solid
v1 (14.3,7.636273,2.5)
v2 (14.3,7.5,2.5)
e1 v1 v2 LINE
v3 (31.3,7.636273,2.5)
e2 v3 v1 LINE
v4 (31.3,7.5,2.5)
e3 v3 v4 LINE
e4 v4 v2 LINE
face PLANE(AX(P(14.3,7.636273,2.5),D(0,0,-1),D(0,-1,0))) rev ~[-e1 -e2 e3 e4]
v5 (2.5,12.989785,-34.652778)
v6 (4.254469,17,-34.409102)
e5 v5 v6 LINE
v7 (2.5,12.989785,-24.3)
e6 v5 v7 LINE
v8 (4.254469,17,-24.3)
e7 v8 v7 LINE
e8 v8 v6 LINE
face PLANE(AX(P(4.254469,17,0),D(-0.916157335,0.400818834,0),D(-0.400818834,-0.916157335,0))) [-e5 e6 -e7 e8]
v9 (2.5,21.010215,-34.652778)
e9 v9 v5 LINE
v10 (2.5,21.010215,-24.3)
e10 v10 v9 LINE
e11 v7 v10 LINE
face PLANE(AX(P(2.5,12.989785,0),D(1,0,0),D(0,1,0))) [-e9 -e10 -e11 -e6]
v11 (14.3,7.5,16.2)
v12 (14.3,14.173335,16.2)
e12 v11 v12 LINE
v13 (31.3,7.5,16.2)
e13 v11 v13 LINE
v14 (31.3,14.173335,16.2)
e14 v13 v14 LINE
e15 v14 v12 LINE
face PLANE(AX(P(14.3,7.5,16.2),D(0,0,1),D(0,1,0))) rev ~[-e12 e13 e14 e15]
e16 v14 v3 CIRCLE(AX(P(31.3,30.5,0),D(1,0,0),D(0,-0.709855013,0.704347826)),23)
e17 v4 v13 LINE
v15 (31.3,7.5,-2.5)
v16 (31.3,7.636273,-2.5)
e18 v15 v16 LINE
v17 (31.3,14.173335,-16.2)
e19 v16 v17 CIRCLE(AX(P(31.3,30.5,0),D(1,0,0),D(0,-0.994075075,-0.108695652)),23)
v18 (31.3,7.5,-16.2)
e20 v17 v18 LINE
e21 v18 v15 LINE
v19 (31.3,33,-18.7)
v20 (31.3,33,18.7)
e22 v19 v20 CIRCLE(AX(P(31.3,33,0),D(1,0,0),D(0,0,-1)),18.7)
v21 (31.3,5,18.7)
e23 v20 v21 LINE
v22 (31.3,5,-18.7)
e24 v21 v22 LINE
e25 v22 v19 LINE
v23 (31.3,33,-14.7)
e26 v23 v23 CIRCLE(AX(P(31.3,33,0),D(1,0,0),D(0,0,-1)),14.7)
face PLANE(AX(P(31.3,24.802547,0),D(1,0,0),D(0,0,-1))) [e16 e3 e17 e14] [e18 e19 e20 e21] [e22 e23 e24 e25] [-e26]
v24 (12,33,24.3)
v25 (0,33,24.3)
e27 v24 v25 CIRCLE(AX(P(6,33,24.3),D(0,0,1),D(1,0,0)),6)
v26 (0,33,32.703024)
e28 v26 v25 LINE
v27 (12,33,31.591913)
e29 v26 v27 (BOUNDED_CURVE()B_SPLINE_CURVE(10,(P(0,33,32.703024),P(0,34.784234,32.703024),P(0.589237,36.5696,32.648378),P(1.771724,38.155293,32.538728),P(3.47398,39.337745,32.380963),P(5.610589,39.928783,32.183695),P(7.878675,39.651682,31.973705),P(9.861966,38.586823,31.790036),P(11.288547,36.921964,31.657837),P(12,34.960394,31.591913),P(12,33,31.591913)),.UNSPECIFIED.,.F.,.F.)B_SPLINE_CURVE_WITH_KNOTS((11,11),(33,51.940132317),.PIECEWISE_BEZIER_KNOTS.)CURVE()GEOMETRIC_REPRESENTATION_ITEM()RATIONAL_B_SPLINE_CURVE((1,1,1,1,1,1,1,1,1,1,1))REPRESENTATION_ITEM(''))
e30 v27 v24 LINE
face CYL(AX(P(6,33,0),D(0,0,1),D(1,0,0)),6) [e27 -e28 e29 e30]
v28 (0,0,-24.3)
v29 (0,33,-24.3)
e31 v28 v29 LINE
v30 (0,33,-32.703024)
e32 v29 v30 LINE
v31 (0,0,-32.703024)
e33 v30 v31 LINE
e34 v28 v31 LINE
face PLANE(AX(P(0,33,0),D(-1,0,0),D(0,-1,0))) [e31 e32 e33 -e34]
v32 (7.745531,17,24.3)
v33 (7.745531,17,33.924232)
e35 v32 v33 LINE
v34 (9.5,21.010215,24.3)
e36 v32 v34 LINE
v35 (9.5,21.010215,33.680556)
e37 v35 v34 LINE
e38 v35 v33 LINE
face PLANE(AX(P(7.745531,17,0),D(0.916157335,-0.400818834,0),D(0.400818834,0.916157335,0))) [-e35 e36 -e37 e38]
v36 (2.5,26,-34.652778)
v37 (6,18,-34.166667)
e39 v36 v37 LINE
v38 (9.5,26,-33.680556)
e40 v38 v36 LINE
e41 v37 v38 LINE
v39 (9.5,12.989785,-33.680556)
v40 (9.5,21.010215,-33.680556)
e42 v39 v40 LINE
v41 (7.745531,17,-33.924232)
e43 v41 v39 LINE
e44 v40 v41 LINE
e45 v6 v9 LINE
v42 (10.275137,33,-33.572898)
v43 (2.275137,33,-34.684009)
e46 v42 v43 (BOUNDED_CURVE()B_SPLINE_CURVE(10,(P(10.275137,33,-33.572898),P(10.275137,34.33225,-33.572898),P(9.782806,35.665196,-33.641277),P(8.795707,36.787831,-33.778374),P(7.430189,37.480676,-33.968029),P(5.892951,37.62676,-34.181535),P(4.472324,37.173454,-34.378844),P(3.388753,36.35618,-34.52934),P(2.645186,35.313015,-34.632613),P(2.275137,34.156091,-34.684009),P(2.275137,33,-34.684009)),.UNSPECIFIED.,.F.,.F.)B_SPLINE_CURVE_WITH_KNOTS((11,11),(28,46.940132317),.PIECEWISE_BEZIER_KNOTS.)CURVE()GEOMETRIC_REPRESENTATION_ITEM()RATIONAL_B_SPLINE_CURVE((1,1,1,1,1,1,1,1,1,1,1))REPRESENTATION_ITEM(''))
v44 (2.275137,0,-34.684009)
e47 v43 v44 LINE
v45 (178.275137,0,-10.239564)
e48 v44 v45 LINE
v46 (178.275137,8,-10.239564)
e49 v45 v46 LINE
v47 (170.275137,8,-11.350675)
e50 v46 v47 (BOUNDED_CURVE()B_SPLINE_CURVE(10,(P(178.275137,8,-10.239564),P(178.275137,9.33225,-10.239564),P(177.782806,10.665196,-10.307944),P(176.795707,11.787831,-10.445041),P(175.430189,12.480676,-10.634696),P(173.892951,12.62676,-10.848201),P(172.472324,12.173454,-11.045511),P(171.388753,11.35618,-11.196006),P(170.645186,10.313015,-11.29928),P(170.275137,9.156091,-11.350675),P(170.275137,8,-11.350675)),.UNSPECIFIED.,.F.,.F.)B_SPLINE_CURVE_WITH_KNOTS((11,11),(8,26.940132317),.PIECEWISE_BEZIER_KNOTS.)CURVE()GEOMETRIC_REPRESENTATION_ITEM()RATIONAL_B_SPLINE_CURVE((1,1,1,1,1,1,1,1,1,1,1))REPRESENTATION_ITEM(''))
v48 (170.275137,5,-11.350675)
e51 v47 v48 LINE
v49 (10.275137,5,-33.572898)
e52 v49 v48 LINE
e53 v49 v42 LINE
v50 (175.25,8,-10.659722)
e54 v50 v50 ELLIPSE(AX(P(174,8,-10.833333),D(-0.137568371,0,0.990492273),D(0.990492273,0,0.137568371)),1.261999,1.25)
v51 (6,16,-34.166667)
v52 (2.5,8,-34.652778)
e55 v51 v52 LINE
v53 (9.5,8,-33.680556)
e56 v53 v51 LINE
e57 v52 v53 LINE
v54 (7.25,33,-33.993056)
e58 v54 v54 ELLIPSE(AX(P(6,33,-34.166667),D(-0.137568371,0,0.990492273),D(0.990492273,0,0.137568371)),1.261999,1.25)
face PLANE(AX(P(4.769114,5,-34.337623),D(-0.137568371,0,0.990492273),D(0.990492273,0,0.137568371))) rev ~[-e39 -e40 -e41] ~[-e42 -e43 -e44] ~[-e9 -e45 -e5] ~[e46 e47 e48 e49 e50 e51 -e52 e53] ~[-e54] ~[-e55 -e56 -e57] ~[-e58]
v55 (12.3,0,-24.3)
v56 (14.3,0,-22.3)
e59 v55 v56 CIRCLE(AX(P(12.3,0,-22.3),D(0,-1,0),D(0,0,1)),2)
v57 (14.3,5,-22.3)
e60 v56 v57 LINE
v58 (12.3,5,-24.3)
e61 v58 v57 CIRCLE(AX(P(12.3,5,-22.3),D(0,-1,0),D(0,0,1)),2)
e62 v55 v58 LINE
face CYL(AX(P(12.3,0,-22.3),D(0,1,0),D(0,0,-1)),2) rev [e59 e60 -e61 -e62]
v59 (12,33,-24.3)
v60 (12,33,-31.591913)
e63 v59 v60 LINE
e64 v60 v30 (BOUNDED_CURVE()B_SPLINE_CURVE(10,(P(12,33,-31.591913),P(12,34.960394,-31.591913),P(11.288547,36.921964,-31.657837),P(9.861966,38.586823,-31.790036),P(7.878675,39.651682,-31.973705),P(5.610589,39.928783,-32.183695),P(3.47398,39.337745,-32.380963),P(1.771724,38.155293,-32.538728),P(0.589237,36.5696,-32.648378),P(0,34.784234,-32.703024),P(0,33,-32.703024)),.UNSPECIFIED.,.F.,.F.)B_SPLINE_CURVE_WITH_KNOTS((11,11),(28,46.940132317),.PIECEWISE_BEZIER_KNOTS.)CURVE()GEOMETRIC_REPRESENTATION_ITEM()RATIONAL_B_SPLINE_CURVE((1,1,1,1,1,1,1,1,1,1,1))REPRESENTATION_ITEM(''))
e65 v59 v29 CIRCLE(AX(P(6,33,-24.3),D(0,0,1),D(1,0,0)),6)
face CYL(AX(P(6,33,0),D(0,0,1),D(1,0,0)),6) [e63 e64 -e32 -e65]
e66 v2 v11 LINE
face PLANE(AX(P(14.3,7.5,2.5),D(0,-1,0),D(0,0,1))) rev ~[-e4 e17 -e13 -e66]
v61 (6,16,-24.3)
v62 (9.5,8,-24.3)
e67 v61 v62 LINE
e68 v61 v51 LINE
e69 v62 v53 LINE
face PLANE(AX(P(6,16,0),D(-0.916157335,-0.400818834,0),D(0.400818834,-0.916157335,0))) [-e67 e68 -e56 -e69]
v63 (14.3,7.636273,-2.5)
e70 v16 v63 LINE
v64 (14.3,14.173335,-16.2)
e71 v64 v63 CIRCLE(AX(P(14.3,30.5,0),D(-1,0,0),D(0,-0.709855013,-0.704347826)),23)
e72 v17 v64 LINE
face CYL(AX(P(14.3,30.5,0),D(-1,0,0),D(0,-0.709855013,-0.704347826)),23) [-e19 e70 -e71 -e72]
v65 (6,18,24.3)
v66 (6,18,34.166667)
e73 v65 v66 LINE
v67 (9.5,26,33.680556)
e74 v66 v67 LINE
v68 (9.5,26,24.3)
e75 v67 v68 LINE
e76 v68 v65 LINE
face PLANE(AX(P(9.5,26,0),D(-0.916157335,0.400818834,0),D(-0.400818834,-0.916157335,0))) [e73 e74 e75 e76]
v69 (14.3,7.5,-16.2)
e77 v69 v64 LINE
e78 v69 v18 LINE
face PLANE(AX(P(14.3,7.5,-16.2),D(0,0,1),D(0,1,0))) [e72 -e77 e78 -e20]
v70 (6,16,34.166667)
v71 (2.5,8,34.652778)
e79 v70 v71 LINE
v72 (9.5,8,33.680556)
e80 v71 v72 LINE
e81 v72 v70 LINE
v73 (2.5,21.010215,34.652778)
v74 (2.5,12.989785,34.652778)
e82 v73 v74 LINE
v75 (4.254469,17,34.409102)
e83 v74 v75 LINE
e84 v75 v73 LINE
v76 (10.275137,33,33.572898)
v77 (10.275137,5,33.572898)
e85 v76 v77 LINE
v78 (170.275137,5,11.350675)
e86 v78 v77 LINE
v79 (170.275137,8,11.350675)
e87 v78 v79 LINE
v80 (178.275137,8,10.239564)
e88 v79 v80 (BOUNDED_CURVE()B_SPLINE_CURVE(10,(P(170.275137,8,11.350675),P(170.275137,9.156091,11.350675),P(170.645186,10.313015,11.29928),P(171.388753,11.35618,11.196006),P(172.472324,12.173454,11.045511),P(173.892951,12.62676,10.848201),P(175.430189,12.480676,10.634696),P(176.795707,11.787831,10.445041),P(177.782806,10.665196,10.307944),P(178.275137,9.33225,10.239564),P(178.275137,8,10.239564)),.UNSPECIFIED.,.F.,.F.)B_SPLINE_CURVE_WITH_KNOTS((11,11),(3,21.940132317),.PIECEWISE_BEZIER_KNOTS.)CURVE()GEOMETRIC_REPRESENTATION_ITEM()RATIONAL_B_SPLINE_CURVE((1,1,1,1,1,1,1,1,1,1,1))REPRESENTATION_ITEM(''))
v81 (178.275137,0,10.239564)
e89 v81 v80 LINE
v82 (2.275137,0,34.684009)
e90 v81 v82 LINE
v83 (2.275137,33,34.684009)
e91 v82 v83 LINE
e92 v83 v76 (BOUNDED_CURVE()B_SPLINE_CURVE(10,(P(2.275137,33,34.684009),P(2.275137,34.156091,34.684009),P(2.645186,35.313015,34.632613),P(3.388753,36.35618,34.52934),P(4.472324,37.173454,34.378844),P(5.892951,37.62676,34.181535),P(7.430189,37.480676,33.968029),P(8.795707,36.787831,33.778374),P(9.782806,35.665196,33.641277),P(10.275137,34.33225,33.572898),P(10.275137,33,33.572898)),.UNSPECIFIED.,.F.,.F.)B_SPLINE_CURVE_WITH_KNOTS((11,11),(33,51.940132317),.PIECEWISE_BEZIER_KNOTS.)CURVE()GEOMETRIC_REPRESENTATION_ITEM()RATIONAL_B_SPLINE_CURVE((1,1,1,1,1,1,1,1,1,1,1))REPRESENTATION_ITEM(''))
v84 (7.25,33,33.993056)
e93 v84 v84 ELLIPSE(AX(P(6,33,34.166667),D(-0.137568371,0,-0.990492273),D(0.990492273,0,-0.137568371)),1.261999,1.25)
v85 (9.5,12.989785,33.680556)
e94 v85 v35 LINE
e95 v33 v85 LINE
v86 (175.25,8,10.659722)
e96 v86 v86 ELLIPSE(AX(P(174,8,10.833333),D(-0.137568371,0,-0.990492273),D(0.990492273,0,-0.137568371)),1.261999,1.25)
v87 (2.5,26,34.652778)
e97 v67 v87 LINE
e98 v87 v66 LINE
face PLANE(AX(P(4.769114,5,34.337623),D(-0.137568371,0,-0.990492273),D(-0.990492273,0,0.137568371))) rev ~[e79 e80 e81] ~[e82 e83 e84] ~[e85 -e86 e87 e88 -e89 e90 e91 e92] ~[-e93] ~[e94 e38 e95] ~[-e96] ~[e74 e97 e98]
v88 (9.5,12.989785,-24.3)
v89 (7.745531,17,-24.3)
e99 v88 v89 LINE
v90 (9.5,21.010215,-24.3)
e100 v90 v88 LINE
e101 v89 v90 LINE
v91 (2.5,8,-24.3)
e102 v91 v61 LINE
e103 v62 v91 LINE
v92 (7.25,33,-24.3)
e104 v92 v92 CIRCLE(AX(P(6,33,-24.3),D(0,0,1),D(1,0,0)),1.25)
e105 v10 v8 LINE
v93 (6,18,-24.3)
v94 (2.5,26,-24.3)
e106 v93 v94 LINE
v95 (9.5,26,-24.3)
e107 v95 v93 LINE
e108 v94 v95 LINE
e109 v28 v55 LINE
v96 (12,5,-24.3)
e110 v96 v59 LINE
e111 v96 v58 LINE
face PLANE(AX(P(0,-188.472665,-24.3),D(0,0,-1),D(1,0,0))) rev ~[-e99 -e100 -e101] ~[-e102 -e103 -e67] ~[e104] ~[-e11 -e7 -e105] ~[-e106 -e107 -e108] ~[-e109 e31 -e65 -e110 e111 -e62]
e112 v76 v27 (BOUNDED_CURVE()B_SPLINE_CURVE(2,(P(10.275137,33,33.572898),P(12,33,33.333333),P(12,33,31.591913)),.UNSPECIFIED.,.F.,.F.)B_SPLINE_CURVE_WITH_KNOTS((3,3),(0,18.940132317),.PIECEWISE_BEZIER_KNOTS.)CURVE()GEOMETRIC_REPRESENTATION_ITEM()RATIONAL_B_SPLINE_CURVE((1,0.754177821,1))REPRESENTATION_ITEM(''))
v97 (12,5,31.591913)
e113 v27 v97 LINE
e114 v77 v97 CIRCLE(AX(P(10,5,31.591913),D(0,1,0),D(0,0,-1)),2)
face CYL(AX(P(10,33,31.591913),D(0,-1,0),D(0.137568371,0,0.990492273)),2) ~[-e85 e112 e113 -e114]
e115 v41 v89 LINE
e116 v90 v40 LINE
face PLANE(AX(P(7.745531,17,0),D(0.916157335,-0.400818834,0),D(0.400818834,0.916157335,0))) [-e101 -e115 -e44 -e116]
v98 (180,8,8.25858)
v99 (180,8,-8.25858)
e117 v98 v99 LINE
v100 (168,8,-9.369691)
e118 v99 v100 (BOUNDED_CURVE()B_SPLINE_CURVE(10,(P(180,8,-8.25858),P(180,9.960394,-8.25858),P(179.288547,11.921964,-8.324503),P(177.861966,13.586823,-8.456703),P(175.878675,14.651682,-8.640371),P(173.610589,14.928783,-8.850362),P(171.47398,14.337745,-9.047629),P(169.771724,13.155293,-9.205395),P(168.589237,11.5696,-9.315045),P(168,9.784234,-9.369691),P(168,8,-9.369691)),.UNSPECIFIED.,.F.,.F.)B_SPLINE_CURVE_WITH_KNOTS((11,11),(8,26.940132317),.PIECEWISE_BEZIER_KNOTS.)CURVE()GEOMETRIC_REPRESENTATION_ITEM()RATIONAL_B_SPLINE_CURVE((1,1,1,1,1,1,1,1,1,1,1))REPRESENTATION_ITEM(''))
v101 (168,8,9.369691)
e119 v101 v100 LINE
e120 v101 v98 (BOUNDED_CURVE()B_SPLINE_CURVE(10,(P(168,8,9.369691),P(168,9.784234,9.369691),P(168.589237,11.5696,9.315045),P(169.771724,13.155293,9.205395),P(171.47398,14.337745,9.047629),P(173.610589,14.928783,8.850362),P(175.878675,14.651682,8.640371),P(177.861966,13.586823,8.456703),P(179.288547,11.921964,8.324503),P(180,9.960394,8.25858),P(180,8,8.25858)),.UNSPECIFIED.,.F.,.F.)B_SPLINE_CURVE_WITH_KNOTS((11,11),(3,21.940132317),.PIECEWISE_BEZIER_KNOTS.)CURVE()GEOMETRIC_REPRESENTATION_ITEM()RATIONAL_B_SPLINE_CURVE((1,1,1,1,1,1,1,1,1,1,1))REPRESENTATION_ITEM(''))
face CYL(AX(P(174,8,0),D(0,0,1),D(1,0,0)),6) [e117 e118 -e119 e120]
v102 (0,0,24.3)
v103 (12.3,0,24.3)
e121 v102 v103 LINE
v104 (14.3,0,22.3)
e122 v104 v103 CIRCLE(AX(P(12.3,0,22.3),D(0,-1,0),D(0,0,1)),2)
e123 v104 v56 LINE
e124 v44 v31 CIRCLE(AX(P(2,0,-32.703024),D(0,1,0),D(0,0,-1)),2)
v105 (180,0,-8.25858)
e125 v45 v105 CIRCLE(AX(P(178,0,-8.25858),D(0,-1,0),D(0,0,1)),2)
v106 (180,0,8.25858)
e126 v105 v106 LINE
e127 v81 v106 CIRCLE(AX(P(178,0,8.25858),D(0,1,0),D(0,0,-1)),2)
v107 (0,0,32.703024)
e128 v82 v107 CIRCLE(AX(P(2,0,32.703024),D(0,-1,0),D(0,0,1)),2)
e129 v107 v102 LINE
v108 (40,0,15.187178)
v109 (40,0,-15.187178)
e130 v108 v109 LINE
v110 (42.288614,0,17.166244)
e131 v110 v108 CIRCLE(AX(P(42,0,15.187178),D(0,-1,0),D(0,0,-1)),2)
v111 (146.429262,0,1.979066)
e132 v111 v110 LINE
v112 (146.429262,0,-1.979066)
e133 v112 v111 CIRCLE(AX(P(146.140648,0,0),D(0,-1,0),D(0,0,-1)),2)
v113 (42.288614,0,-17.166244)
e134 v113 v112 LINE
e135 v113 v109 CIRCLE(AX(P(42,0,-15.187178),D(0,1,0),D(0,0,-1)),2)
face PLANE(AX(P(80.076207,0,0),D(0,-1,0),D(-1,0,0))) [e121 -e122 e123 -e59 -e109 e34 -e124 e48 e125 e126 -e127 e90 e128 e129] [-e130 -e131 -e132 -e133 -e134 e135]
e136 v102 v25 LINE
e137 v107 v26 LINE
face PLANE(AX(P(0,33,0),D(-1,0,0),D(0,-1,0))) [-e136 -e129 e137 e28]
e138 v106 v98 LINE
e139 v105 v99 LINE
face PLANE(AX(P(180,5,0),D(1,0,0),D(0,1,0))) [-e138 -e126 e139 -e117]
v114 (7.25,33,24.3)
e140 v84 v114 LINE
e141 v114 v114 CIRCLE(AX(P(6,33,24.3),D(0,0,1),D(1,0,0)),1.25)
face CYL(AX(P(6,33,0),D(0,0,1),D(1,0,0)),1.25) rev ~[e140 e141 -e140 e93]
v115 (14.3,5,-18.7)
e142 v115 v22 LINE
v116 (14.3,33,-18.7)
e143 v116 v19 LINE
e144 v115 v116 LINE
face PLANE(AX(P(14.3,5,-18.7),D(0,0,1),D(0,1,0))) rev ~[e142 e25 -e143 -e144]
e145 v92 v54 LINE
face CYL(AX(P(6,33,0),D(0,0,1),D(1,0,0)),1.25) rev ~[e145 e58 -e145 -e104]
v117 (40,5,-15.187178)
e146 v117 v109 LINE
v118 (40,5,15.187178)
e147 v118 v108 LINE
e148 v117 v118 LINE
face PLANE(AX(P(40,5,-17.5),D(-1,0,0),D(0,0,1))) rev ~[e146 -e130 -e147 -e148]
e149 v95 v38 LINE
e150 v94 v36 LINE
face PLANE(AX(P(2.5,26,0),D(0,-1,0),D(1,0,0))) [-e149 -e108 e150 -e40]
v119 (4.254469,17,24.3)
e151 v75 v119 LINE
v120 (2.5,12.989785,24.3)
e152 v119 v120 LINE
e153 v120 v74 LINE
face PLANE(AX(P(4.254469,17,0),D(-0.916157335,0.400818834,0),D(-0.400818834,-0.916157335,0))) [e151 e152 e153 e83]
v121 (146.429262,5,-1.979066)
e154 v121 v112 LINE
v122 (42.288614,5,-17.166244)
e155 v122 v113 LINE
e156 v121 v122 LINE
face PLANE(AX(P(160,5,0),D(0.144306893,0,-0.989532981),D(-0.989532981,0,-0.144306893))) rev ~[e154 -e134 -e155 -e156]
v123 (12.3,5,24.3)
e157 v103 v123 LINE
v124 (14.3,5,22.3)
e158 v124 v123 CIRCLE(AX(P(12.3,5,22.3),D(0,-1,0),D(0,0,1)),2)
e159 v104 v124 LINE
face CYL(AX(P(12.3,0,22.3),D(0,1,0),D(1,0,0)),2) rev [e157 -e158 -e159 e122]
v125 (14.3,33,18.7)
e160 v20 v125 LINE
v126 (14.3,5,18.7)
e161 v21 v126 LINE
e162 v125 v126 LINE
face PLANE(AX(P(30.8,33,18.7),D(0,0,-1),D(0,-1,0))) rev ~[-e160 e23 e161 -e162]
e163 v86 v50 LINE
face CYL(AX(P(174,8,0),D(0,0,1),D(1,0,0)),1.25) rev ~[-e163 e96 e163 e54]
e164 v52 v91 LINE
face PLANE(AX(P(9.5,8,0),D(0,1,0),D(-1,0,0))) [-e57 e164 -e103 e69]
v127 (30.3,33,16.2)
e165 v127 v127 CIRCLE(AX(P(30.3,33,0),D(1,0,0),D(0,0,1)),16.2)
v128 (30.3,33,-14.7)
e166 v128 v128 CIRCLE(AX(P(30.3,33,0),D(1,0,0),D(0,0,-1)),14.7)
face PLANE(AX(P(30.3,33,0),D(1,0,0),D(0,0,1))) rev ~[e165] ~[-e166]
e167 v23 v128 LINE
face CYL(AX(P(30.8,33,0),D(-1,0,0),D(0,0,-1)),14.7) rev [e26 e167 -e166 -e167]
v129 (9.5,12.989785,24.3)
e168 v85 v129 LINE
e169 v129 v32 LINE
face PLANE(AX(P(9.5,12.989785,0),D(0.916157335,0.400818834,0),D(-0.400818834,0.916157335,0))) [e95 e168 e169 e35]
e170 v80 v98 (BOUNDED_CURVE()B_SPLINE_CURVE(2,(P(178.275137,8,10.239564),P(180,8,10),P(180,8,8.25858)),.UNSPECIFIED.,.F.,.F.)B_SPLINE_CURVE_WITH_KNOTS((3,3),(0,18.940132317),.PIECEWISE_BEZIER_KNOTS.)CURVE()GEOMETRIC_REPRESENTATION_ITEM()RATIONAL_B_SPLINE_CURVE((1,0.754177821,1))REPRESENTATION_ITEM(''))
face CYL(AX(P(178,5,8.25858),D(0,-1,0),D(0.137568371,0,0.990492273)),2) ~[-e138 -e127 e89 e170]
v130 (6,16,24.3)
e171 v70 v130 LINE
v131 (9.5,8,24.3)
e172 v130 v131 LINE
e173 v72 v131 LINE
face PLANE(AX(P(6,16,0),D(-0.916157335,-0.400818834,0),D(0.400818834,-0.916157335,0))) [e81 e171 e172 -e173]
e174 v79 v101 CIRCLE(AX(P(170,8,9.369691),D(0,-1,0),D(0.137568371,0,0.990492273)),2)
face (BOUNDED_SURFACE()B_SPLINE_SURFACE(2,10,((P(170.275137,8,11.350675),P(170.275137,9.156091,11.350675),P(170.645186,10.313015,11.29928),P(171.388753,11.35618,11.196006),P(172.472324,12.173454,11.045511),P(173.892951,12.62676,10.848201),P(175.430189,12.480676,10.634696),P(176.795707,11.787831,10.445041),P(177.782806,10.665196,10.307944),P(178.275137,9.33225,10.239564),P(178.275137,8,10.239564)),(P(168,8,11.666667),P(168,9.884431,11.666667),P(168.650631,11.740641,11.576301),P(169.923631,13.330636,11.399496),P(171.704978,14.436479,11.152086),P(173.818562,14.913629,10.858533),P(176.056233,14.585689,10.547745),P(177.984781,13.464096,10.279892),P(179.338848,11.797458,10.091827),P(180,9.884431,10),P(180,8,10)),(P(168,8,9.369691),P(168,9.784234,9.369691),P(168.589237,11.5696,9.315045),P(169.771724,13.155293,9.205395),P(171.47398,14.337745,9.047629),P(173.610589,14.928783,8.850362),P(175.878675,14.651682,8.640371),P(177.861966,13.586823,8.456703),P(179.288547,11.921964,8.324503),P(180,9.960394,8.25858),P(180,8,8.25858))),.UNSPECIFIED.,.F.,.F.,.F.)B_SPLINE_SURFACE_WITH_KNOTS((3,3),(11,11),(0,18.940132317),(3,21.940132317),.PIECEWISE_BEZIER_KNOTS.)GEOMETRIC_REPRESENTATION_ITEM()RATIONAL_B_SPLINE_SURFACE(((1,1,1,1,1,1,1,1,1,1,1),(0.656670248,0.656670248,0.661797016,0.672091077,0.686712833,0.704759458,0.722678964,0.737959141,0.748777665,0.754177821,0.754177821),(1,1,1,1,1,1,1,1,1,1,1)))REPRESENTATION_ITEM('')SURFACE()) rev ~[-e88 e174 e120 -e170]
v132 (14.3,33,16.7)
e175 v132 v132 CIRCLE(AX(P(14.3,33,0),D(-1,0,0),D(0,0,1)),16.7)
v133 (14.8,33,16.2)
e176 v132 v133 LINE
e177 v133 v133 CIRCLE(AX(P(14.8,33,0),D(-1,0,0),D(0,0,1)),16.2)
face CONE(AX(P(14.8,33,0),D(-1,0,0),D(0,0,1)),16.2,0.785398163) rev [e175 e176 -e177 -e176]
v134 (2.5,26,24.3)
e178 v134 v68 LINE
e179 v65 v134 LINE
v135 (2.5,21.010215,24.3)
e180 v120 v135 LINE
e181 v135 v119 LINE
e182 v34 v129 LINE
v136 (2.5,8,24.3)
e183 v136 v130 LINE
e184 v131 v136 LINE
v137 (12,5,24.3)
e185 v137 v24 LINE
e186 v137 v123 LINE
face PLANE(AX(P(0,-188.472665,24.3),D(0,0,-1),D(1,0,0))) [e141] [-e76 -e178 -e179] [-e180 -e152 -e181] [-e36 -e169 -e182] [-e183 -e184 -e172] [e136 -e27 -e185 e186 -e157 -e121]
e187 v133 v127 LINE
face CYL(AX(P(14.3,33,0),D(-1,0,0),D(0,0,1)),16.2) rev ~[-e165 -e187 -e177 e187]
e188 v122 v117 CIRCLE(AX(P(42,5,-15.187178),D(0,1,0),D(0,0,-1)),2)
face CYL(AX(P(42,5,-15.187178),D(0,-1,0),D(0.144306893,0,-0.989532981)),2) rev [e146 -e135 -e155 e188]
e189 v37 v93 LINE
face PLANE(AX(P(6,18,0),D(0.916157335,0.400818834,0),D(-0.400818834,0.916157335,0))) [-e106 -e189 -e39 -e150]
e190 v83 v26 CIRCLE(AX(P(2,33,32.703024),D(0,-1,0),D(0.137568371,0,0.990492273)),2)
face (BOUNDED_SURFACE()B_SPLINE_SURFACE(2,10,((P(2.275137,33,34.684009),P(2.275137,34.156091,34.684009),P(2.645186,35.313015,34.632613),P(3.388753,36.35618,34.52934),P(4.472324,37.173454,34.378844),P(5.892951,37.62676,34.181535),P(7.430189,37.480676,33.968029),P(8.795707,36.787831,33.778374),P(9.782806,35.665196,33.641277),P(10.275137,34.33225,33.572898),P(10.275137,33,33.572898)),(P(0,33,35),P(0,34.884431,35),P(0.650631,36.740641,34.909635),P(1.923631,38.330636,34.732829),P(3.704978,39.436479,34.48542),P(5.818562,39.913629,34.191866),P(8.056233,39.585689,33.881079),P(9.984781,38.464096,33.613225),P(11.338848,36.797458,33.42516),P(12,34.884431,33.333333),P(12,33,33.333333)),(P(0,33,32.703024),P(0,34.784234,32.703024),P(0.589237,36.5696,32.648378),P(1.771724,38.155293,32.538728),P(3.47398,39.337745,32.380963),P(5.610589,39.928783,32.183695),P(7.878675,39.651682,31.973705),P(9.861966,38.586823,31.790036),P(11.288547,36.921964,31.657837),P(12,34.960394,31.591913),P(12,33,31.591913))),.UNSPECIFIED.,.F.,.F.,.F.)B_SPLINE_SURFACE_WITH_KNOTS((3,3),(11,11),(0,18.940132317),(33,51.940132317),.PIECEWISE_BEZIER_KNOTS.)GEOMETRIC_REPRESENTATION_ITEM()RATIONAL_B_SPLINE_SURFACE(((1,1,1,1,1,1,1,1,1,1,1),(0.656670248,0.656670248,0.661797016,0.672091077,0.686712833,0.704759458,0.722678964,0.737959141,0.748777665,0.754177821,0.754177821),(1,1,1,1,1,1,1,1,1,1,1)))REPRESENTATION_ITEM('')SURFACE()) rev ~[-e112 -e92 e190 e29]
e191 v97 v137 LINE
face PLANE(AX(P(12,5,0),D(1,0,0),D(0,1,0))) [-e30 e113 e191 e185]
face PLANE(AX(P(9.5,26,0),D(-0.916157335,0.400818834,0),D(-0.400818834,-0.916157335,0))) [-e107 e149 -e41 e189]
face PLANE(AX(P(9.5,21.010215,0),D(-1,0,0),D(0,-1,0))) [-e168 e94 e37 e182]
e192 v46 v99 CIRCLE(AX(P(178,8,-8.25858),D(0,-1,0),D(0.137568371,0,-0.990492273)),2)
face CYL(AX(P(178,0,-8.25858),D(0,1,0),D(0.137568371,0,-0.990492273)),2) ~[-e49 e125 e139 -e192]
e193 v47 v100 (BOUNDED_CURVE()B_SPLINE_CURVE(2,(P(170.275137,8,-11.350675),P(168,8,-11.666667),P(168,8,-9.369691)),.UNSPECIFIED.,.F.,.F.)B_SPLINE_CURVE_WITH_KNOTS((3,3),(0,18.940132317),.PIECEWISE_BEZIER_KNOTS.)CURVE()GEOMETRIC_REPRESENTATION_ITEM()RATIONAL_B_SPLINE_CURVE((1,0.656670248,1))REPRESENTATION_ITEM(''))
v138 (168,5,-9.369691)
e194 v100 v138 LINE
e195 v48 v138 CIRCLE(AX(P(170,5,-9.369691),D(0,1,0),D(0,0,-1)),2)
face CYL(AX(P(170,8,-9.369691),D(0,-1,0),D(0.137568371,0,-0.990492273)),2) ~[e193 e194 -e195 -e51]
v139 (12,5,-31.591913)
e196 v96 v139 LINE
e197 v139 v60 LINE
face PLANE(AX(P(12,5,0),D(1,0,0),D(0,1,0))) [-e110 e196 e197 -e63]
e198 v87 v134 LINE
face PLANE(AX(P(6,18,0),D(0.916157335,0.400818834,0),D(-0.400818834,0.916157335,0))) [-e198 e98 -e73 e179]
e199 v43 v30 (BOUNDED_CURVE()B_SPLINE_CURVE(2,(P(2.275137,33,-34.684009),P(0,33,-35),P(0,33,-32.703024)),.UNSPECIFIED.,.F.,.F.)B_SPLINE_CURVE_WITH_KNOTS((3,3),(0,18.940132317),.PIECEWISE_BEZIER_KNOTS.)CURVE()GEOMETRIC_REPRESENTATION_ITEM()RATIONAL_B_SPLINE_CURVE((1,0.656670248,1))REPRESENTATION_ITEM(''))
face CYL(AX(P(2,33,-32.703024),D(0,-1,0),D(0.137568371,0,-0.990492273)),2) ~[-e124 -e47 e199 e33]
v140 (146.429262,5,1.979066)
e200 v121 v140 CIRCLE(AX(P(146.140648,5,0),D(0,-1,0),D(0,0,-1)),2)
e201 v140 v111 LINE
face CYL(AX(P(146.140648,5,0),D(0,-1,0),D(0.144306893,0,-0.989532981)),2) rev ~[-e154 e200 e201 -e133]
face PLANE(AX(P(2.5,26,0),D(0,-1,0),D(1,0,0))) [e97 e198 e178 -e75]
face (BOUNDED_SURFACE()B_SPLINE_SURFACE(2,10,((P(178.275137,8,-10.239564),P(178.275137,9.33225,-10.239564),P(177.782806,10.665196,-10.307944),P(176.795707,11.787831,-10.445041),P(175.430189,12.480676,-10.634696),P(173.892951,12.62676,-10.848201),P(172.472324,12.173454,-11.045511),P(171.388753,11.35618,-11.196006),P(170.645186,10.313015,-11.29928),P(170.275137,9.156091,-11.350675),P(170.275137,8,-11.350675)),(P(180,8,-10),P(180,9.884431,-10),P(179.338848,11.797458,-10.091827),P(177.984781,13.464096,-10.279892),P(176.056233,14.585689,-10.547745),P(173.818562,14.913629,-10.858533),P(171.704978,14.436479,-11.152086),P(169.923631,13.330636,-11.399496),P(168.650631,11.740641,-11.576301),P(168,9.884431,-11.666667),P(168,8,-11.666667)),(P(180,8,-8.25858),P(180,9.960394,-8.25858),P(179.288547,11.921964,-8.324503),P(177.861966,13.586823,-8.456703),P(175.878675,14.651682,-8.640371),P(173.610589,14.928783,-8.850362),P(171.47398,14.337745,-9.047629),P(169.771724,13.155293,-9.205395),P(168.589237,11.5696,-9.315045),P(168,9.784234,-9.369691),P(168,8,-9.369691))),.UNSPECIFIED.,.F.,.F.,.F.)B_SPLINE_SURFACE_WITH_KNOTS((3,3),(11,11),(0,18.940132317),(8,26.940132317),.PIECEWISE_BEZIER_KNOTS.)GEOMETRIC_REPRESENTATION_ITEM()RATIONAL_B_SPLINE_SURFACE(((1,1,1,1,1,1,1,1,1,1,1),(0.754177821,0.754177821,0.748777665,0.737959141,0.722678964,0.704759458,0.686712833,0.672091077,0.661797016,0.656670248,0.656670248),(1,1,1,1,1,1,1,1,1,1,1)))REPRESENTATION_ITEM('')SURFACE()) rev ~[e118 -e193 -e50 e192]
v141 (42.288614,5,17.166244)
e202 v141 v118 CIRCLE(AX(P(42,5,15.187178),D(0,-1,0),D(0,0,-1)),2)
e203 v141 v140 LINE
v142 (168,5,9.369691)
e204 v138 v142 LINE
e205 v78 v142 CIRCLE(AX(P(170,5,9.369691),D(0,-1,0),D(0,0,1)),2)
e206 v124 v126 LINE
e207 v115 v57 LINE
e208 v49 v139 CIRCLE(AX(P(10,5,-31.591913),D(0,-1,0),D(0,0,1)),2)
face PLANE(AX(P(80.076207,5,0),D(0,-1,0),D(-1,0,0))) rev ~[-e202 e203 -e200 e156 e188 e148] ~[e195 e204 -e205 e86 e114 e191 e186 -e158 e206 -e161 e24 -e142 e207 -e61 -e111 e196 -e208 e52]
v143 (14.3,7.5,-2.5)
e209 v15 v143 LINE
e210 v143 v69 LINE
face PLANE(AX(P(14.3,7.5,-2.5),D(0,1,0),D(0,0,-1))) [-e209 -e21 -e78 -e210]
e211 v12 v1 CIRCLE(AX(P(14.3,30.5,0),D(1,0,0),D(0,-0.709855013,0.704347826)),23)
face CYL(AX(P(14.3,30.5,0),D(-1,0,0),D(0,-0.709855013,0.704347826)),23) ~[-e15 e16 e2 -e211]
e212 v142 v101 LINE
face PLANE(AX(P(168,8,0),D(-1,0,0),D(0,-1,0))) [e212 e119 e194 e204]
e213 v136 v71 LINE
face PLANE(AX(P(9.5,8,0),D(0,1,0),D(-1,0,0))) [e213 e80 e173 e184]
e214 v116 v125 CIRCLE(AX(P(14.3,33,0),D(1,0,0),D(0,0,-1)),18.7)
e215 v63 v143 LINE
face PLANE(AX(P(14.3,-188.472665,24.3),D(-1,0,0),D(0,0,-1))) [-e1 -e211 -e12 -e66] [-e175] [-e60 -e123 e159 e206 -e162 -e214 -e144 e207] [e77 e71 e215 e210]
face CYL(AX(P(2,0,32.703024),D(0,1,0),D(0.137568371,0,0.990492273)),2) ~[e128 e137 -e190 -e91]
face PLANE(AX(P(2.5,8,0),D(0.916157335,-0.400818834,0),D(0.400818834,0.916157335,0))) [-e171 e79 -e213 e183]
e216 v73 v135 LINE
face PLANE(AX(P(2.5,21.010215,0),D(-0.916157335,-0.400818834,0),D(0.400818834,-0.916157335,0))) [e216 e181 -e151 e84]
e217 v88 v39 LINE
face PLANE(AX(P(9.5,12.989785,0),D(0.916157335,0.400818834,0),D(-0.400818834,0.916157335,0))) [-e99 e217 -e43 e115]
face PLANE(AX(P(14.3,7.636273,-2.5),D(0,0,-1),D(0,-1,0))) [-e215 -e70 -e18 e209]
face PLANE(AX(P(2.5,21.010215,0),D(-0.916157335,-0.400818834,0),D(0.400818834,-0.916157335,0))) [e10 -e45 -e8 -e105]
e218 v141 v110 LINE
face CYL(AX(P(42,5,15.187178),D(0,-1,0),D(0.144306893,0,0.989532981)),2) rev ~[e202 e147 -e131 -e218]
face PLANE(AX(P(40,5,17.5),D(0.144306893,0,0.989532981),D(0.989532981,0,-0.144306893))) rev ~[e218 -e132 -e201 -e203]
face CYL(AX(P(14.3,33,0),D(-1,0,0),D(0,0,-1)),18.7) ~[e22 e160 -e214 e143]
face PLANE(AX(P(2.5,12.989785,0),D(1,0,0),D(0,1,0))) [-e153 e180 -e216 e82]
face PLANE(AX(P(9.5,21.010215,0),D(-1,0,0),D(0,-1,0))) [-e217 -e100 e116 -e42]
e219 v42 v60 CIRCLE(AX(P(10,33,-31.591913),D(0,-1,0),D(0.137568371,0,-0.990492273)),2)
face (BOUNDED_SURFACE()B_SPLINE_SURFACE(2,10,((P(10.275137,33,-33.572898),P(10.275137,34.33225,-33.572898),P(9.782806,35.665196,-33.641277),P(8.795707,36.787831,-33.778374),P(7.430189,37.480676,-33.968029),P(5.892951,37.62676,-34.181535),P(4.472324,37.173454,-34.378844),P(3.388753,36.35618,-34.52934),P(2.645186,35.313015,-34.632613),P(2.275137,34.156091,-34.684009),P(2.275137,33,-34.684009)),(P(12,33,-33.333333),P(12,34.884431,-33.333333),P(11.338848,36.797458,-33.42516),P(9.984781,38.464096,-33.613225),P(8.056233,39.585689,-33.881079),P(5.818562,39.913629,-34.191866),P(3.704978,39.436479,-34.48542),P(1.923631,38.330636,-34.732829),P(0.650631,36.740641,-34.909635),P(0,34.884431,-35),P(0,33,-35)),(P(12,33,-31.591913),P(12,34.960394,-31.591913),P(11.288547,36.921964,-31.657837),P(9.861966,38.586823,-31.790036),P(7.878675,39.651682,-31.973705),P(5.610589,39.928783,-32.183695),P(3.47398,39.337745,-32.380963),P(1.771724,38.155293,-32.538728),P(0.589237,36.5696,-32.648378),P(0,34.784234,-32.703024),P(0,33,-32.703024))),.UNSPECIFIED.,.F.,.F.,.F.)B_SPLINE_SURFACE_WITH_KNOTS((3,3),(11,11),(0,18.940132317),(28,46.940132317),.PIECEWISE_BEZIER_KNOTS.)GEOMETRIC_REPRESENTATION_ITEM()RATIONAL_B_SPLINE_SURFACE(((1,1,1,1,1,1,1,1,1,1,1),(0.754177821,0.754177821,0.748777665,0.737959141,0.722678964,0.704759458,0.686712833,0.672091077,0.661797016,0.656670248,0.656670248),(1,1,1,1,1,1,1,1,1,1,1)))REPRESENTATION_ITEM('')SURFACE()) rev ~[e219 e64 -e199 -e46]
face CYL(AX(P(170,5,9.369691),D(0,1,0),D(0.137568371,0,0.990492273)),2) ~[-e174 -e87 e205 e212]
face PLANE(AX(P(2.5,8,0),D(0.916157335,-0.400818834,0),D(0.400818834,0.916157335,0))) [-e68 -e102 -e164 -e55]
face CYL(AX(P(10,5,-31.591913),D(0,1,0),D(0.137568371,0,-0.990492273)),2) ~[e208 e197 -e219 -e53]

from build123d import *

# Parameters (mm, degrees)
BOSS_EXTRUDE1_DEPTH             = 5
BOSS_EXTRUDE2_REACH             = 185.439
SKETCH2_R                       = 1.25
BOSS_EXTRUDE2_DIRECTION_2_REACH = 185.439
CUT_EXTRUDE1_DEPTH              = 188.472664674
CUT_EXTRUDE1_DEPTH_BACK         = 188.472664674
SKETCH4_W                       = 14.3
SKETCH4_H                       = 48.6
SKETCH5_RX                      = 1.25
SKETCH5_RY                      = 0.173611111
SKETCH5_R                       = 16.2
BOSS_EXTRUDE3_DEPTH             = 16.5
SKETCH7_R                       = 16.2
SKETCH7_R_2                     = 14.7
BOSS_EXTRUDE5_DEPTH             = 0.5
CUT_EXTRUDE2_DEPTH              = 190.224443453
FILLET2_R                       = 2
FILLET5_R                       = 2
CHAMFER1_SIZE                   = 0.5
FILLET6_R                       = 2


with BuildPart() as part:
    # Sketch1 → Boss-Extrude1 (new body)
    with BuildSketch(Plane(origin=(0, 0, 0), x_dir=(1, 0, 0), z_dir=(0, 1, 0))):
        Polygon((0, -35), (0, 35), (180, 10), (180, -10), align=None)
    extrude(amount=BOSS_EXTRUDE1_DEPTH)

    # Boss-Extrude2: up to this plane
    boss_extrude2_end = Plane(origin=(4.769114307, 5, 34.337623013), z_dir=(-0.1375683712746877, 0, -0.9904922731777516))
    # Sketch2 → Boss-Extrude2 (add, up to the surface)
    with BuildSketch(Plane.XY, mode=Mode.PRIVATE) as boss_extrude2_sk1:
        with BuildLine():
            Line((0, 33), (0, 5))
            Line((0, 5), (12, 5))
            Line((12, 5), (12, 33))
            ThreePointArc((12, 33), (6, 39), (0, 33))
        make_face()
        Polygon((2.5, 8), (6, 16), (9.5, 8), align=None, mode=Mode.SUBTRACT)
        Polygon((2.5, 12.989785485), (2.5, 21.010214515), (4.25446885, 17), align=None, mode=Mode.SUBTRACT)
        Polygon((7.74553115, 17), (9.5, 21.010214515), (9.5, 12.989785485), align=None, mode=Mode.SUBTRACT)
        Polygon((6, 18), (2.5, 26), (9.5, 26), align=None, mode=Mode.SUBTRACT)
        with Locations((6, 33)):
            Circle(SKETCH2_R, mode=Mode.SUBTRACT)
    boss_extrude2_tool1 = split(extrude(boss_extrude2_sk1.sketch, amount=BOSS_EXTRUDE2_REACH, mode=Mode.PRIVATE), bisect_by=boss_extrude2_end, keep=Keep.BOTH, mode=Mode.PRIVATE)
    add(boss_extrude2_tool1.solids().sort_by_distance((11.639445, 19, 0))[0])
    # Sketch2 → Boss-Extrude2 (add, up to the surface)
    with BuildSketch(Plane.XY, mode=Mode.PRIVATE) as boss_extrude2_sk2:
        with BuildLine():
            Line((168, 8), (168, 5))
            Line((168, 5), (180, 5))
            Line((180, 5), (180, 8))
            ThreePointArc((180, 8), (174, 14), (168, 8))
        make_face()
        with Locations((174, 8)):
            Circle(SKETCH2_R, mode=Mode.SUBTRACT)
    boss_extrude2_tool2 = split(extrude(boss_extrude2_sk2.sketch, amount=BOSS_EXTRUDE2_REACH, mode=Mode.PRIVATE), bisect_by=boss_extrude2_end, keep=Keep.BOTH, mode=Mode.PRIVATE)
    add(boss_extrude2_tool2.solids().sort_by_distance((168.15, 6.5, 0))[0])

    # Boss-Extrude2 direction 2: up to this plane
    boss_extrude2_direction_2_end = Plane(origin=(4.769114307, 5, -34.337623013), z_dir=(-0.1375683712746877, 0, 0.9904922731777516))
    # Sketch2 → Boss-Extrude2 direction 2 (add, up to the surface)
    with BuildSketch(Plane.XY, mode=Mode.PRIVATE) as boss_extrude2_direction_2_sk1:
        with BuildLine():
            Line((0, 33), (0, 5))
            Line((0, 5), (12, 5))
            Line((12, 5), (12, 33))
            ThreePointArc((12, 33), (6, 39), (0, 33))
        make_face()
        Polygon((2.5, 8), (6, 16), (9.5, 8), align=None, mode=Mode.SUBTRACT)
        Polygon((2.5, 12.989785485), (2.5, 21.010214515), (4.25446885, 17), align=None, mode=Mode.SUBTRACT)
        Polygon((7.74553115, 17), (9.5, 21.010214515), (9.5, 12.989785485), align=None, mode=Mode.SUBTRACT)
        Polygon((6, 18), (2.5, 26), (9.5, 26), align=None, mode=Mode.SUBTRACT)
        with Locations((6, 33)):
            Circle(SKETCH2_R, mode=Mode.SUBTRACT)
    boss_extrude2_direction_2_tool1 = split(extrude(boss_extrude2_direction_2_sk1.sketch, amount=-BOSS_EXTRUDE2_DIRECTION_2_REACH, mode=Mode.PRIVATE), bisect_by=boss_extrude2_direction_2_end, keep=Keep.BOTH, mode=Mode.PRIVATE)
    add(boss_extrude2_direction_2_tool1.solids().sort_by_distance((11.639445, 19, 0))[0])
    # Sketch2 → Boss-Extrude2 direction 2 (add, up to the surface)
    with BuildSketch(Plane.XY, mode=Mode.PRIVATE) as boss_extrude2_direction_2_sk2:
        with BuildLine():
            Line((168, 8), (168, 5))
            Line((168, 5), (180, 5))
            Line((180, 5), (180, 8))
            ThreePointArc((180, 8), (174, 14), (168, 8))
        make_face()
        with Locations((174, 8)):
            Circle(SKETCH2_R, mode=Mode.SUBTRACT)
    boss_extrude2_direction_2_tool2 = split(extrude(boss_extrude2_direction_2_sk2.sketch, amount=-BOSS_EXTRUDE2_DIRECTION_2_REACH, mode=Mode.PRIVATE), bisect_by=boss_extrude2_direction_2_end, keep=Keep.BOTH, mode=Mode.PRIVATE)
    add(boss_extrude2_direction_2_tool2.solids().sort_by_distance((168.15, 6.5, 0))[0])

    # Sketch4 → Cut-Extrude1 (cut, two sides: drawn at the far end of the back side and taken through both)
    with BuildSketch(Plane(origin=(0, 0, 0), x_dir=(1, 0, 0), z_dir=(0, 1, 0)).offset(-CUT_EXTRUDE1_DEPTH_BACK)):
        with Locations((7.15, 0)):
            Rectangle(SKETCH4_W, SKETCH4_H)
    extrude(amount=CUT_EXTRUDE1_DEPTH + CUT_EXTRUDE1_DEPTH_BACK, mode=Mode.SUBTRACT)

    # Sketch5 → Boss-Extrude3 (add)
    # profile 1 of 2: a face of its own
    with BuildSketch(Plane.ZY.offset(-14.3)):
        with Locations(Location((-34.166666667, 33), (0, 0, 90))):
            Ellipse(SKETCH5_RX, SKETCH5_RY)
    # profile 2 of 2: a face of its own
    with BuildSketch(Plane.ZY.offset(-14.3)):
        with BuildLine():
            Line((-18.7, 5), (-18.7, 33))
            ThreePointArc((-18.7, 33), (0, 51.7), (18.7, 33))
            Line((18.7, 33), (18.7, 5))
            Line((18.7, 5), (-18.7, 5))
        make_face()
        with Locations((0, 33)):
            Circle(SKETCH5_R, mode=Mode.SUBTRACT)
        with BuildLine():
            Line((16.2, 7.5), (16.2, 14.173334694))
            ThreePointArc((16.2, 14.173334694), (9.90483685, 9.7420086), (2.5, 7.63627327))
            Line((2.5, 7.63627327), (2.5, 7.5))
            Line((2.5, 7.5), (16.2, 7.5))
        make_face(mode=Mode.SUBTRACT)
        with BuildLine():
            Line((-16.2, 7.5), (-16.2, 14.173334694))
            ThreePointArc((-16.2, 14.173334694), (-9.90483685, 9.7420086), (-2.5, 7.63627327))
            Line((-2.5, 7.63627327), (-2.5, 7.5))
            Line((-2.5, 7.5), (-16.2, 7.5))
        make_face(mode=Mode.SUBTRACT)
    extrude(amount=-BOSS_EXTRUDE3_DEPTH)


with BuildPart() as boss_extrude3_kept_piece:
    # of the separate pieces the step leaves, the one the design keeps (boss_extrude3_pieces_kept)
    add(part.part.solids().sort_by_distance((0, 0, 35))[0])

    # Sketch7 → Boss-Extrude5 (add, symmetric)
    # profile 1 of 2: a face of its own
    with BuildSketch(Plane(origin=(30.8, 0, 0), x_dir=(0, 0, -1), z_dir=(1, 0, 0))):
        with BuildLine():
            Line((18.7, 5), (18.7, 33))
            ThreePointArc((18.7, 33), (0, 51.7), (-18.7, 33))
            Line((-18.7, 33), (-18.7, 5))
            Line((-18.7, 5), (18.7, 5))
        make_face()
        with Locations(Location((0, 33, 0), (0, 0, 180))):
            Circle(SKETCH7_R, mode=Mode.SUBTRACT)
        with BuildLine():
            ThreePointArc((-16.2, 14.173334694), (-9.90483685, 9.7420086), (-2.5, 7.63627327))
            Line((-2.5, 7.63627327), (-2.5, 7.5))
            Line((-2.5, 7.5), (-16.2, 7.5))
            Line((-16.2, 7.5), (-16.2, 14.173334694))
        make_face(mode=Mode.SUBTRACT)
        with BuildLine():
            ThreePointArc((2.5, 7.63627327), (9.90483685, 9.7420086), (16.2, 14.173334694))
            Line((16.2, 14.173334694), (16.2, 7.5))
            Line((16.2, 7.5), (2.5, 7.5))
            Line((2.5, 7.5), (2.5, 7.63627327))
        make_face(mode=Mode.SUBTRACT)
    # profile 2 of 2: a face of its own
    with BuildSketch(Plane(origin=(30.8, 0, 0), x_dir=(0, 0, -1), z_dir=(1, 0, 0))):
        with Locations(Location((0, 33, 0), (0, 0, 180))):
            Circle(SKETCH7_R)
        with Locations((0, 33)):
            Circle(SKETCH7_R_2, mode=Mode.SUBTRACT)
    extrude(amount=BOSS_EXTRUDE5_DEPTH, both=True)

    # Sketch8 → Cut-Extrude2 (cut, through all)
    with BuildSketch(Plane(origin=(0, 5, 0), x_dir=(1, 0, 0), z_dir=(0, 1, 0))):
        Polygon((40, 17.5), (40, -17.5), (160, 0), align=None)
    extrude(amount=-CUT_EXTRUDE2_DEPTH, mode=Mode.SUBTRACT)

    # Fillet2
    fillet2_edges = [boss_extrude3_kept_piece.edges().sort_by_distance(p)[0] for p in [
        (40, 2.5, -17.5),
        (160, 2.5, 0),
        (40, 2.5, 17.5),
    ]]
    fillet(fillet2_edges, radius=FILLET2_R)

    # Fillet5
    fillet5_edges = [boss_extrude3_kept_piece.edges().sort_by_distance(p)[0] for p in [
        (14.3, 2.5, 24.3),
        (14.3, 2.5, -24.3),
    ]]
    fillet(fillet5_edges, radius=FILLET5_R)

    # Chamfer1
    chamfer1_edges = [boss_extrude3_kept_piece.edges().sort_by_distance(p)[0] for p in [
        (14.3, 33, -16.2),
    ]]
    chamfer(chamfer1_edges, length=CHAMFER1_SIZE)

    # Fillet6
    fillet6_edges = [boss_extrude3_kept_piece.edges().sort_by_distance(p)[0] for p in [
        (12, 19, 33.333333333),
        (6, 39, -34.166666667),
        (6, 39, 34.166666667),
        (12, 19, -33.333333333),
        (174, 14, -10.833333333),
        (168, 6.5, -11.666666667),
        (174, 14, 10.833333333),
        (168, 6.5, 11.666666667),
        (180, 4, 10),
        (0, 16.5, 35),
        (0, 16.5, -35),
        (180, 4, -10),
    ]]
    fillet(fillet6_edges, radius=FILLET6_R)


solid = boss_extrude3_kept_piece.part
